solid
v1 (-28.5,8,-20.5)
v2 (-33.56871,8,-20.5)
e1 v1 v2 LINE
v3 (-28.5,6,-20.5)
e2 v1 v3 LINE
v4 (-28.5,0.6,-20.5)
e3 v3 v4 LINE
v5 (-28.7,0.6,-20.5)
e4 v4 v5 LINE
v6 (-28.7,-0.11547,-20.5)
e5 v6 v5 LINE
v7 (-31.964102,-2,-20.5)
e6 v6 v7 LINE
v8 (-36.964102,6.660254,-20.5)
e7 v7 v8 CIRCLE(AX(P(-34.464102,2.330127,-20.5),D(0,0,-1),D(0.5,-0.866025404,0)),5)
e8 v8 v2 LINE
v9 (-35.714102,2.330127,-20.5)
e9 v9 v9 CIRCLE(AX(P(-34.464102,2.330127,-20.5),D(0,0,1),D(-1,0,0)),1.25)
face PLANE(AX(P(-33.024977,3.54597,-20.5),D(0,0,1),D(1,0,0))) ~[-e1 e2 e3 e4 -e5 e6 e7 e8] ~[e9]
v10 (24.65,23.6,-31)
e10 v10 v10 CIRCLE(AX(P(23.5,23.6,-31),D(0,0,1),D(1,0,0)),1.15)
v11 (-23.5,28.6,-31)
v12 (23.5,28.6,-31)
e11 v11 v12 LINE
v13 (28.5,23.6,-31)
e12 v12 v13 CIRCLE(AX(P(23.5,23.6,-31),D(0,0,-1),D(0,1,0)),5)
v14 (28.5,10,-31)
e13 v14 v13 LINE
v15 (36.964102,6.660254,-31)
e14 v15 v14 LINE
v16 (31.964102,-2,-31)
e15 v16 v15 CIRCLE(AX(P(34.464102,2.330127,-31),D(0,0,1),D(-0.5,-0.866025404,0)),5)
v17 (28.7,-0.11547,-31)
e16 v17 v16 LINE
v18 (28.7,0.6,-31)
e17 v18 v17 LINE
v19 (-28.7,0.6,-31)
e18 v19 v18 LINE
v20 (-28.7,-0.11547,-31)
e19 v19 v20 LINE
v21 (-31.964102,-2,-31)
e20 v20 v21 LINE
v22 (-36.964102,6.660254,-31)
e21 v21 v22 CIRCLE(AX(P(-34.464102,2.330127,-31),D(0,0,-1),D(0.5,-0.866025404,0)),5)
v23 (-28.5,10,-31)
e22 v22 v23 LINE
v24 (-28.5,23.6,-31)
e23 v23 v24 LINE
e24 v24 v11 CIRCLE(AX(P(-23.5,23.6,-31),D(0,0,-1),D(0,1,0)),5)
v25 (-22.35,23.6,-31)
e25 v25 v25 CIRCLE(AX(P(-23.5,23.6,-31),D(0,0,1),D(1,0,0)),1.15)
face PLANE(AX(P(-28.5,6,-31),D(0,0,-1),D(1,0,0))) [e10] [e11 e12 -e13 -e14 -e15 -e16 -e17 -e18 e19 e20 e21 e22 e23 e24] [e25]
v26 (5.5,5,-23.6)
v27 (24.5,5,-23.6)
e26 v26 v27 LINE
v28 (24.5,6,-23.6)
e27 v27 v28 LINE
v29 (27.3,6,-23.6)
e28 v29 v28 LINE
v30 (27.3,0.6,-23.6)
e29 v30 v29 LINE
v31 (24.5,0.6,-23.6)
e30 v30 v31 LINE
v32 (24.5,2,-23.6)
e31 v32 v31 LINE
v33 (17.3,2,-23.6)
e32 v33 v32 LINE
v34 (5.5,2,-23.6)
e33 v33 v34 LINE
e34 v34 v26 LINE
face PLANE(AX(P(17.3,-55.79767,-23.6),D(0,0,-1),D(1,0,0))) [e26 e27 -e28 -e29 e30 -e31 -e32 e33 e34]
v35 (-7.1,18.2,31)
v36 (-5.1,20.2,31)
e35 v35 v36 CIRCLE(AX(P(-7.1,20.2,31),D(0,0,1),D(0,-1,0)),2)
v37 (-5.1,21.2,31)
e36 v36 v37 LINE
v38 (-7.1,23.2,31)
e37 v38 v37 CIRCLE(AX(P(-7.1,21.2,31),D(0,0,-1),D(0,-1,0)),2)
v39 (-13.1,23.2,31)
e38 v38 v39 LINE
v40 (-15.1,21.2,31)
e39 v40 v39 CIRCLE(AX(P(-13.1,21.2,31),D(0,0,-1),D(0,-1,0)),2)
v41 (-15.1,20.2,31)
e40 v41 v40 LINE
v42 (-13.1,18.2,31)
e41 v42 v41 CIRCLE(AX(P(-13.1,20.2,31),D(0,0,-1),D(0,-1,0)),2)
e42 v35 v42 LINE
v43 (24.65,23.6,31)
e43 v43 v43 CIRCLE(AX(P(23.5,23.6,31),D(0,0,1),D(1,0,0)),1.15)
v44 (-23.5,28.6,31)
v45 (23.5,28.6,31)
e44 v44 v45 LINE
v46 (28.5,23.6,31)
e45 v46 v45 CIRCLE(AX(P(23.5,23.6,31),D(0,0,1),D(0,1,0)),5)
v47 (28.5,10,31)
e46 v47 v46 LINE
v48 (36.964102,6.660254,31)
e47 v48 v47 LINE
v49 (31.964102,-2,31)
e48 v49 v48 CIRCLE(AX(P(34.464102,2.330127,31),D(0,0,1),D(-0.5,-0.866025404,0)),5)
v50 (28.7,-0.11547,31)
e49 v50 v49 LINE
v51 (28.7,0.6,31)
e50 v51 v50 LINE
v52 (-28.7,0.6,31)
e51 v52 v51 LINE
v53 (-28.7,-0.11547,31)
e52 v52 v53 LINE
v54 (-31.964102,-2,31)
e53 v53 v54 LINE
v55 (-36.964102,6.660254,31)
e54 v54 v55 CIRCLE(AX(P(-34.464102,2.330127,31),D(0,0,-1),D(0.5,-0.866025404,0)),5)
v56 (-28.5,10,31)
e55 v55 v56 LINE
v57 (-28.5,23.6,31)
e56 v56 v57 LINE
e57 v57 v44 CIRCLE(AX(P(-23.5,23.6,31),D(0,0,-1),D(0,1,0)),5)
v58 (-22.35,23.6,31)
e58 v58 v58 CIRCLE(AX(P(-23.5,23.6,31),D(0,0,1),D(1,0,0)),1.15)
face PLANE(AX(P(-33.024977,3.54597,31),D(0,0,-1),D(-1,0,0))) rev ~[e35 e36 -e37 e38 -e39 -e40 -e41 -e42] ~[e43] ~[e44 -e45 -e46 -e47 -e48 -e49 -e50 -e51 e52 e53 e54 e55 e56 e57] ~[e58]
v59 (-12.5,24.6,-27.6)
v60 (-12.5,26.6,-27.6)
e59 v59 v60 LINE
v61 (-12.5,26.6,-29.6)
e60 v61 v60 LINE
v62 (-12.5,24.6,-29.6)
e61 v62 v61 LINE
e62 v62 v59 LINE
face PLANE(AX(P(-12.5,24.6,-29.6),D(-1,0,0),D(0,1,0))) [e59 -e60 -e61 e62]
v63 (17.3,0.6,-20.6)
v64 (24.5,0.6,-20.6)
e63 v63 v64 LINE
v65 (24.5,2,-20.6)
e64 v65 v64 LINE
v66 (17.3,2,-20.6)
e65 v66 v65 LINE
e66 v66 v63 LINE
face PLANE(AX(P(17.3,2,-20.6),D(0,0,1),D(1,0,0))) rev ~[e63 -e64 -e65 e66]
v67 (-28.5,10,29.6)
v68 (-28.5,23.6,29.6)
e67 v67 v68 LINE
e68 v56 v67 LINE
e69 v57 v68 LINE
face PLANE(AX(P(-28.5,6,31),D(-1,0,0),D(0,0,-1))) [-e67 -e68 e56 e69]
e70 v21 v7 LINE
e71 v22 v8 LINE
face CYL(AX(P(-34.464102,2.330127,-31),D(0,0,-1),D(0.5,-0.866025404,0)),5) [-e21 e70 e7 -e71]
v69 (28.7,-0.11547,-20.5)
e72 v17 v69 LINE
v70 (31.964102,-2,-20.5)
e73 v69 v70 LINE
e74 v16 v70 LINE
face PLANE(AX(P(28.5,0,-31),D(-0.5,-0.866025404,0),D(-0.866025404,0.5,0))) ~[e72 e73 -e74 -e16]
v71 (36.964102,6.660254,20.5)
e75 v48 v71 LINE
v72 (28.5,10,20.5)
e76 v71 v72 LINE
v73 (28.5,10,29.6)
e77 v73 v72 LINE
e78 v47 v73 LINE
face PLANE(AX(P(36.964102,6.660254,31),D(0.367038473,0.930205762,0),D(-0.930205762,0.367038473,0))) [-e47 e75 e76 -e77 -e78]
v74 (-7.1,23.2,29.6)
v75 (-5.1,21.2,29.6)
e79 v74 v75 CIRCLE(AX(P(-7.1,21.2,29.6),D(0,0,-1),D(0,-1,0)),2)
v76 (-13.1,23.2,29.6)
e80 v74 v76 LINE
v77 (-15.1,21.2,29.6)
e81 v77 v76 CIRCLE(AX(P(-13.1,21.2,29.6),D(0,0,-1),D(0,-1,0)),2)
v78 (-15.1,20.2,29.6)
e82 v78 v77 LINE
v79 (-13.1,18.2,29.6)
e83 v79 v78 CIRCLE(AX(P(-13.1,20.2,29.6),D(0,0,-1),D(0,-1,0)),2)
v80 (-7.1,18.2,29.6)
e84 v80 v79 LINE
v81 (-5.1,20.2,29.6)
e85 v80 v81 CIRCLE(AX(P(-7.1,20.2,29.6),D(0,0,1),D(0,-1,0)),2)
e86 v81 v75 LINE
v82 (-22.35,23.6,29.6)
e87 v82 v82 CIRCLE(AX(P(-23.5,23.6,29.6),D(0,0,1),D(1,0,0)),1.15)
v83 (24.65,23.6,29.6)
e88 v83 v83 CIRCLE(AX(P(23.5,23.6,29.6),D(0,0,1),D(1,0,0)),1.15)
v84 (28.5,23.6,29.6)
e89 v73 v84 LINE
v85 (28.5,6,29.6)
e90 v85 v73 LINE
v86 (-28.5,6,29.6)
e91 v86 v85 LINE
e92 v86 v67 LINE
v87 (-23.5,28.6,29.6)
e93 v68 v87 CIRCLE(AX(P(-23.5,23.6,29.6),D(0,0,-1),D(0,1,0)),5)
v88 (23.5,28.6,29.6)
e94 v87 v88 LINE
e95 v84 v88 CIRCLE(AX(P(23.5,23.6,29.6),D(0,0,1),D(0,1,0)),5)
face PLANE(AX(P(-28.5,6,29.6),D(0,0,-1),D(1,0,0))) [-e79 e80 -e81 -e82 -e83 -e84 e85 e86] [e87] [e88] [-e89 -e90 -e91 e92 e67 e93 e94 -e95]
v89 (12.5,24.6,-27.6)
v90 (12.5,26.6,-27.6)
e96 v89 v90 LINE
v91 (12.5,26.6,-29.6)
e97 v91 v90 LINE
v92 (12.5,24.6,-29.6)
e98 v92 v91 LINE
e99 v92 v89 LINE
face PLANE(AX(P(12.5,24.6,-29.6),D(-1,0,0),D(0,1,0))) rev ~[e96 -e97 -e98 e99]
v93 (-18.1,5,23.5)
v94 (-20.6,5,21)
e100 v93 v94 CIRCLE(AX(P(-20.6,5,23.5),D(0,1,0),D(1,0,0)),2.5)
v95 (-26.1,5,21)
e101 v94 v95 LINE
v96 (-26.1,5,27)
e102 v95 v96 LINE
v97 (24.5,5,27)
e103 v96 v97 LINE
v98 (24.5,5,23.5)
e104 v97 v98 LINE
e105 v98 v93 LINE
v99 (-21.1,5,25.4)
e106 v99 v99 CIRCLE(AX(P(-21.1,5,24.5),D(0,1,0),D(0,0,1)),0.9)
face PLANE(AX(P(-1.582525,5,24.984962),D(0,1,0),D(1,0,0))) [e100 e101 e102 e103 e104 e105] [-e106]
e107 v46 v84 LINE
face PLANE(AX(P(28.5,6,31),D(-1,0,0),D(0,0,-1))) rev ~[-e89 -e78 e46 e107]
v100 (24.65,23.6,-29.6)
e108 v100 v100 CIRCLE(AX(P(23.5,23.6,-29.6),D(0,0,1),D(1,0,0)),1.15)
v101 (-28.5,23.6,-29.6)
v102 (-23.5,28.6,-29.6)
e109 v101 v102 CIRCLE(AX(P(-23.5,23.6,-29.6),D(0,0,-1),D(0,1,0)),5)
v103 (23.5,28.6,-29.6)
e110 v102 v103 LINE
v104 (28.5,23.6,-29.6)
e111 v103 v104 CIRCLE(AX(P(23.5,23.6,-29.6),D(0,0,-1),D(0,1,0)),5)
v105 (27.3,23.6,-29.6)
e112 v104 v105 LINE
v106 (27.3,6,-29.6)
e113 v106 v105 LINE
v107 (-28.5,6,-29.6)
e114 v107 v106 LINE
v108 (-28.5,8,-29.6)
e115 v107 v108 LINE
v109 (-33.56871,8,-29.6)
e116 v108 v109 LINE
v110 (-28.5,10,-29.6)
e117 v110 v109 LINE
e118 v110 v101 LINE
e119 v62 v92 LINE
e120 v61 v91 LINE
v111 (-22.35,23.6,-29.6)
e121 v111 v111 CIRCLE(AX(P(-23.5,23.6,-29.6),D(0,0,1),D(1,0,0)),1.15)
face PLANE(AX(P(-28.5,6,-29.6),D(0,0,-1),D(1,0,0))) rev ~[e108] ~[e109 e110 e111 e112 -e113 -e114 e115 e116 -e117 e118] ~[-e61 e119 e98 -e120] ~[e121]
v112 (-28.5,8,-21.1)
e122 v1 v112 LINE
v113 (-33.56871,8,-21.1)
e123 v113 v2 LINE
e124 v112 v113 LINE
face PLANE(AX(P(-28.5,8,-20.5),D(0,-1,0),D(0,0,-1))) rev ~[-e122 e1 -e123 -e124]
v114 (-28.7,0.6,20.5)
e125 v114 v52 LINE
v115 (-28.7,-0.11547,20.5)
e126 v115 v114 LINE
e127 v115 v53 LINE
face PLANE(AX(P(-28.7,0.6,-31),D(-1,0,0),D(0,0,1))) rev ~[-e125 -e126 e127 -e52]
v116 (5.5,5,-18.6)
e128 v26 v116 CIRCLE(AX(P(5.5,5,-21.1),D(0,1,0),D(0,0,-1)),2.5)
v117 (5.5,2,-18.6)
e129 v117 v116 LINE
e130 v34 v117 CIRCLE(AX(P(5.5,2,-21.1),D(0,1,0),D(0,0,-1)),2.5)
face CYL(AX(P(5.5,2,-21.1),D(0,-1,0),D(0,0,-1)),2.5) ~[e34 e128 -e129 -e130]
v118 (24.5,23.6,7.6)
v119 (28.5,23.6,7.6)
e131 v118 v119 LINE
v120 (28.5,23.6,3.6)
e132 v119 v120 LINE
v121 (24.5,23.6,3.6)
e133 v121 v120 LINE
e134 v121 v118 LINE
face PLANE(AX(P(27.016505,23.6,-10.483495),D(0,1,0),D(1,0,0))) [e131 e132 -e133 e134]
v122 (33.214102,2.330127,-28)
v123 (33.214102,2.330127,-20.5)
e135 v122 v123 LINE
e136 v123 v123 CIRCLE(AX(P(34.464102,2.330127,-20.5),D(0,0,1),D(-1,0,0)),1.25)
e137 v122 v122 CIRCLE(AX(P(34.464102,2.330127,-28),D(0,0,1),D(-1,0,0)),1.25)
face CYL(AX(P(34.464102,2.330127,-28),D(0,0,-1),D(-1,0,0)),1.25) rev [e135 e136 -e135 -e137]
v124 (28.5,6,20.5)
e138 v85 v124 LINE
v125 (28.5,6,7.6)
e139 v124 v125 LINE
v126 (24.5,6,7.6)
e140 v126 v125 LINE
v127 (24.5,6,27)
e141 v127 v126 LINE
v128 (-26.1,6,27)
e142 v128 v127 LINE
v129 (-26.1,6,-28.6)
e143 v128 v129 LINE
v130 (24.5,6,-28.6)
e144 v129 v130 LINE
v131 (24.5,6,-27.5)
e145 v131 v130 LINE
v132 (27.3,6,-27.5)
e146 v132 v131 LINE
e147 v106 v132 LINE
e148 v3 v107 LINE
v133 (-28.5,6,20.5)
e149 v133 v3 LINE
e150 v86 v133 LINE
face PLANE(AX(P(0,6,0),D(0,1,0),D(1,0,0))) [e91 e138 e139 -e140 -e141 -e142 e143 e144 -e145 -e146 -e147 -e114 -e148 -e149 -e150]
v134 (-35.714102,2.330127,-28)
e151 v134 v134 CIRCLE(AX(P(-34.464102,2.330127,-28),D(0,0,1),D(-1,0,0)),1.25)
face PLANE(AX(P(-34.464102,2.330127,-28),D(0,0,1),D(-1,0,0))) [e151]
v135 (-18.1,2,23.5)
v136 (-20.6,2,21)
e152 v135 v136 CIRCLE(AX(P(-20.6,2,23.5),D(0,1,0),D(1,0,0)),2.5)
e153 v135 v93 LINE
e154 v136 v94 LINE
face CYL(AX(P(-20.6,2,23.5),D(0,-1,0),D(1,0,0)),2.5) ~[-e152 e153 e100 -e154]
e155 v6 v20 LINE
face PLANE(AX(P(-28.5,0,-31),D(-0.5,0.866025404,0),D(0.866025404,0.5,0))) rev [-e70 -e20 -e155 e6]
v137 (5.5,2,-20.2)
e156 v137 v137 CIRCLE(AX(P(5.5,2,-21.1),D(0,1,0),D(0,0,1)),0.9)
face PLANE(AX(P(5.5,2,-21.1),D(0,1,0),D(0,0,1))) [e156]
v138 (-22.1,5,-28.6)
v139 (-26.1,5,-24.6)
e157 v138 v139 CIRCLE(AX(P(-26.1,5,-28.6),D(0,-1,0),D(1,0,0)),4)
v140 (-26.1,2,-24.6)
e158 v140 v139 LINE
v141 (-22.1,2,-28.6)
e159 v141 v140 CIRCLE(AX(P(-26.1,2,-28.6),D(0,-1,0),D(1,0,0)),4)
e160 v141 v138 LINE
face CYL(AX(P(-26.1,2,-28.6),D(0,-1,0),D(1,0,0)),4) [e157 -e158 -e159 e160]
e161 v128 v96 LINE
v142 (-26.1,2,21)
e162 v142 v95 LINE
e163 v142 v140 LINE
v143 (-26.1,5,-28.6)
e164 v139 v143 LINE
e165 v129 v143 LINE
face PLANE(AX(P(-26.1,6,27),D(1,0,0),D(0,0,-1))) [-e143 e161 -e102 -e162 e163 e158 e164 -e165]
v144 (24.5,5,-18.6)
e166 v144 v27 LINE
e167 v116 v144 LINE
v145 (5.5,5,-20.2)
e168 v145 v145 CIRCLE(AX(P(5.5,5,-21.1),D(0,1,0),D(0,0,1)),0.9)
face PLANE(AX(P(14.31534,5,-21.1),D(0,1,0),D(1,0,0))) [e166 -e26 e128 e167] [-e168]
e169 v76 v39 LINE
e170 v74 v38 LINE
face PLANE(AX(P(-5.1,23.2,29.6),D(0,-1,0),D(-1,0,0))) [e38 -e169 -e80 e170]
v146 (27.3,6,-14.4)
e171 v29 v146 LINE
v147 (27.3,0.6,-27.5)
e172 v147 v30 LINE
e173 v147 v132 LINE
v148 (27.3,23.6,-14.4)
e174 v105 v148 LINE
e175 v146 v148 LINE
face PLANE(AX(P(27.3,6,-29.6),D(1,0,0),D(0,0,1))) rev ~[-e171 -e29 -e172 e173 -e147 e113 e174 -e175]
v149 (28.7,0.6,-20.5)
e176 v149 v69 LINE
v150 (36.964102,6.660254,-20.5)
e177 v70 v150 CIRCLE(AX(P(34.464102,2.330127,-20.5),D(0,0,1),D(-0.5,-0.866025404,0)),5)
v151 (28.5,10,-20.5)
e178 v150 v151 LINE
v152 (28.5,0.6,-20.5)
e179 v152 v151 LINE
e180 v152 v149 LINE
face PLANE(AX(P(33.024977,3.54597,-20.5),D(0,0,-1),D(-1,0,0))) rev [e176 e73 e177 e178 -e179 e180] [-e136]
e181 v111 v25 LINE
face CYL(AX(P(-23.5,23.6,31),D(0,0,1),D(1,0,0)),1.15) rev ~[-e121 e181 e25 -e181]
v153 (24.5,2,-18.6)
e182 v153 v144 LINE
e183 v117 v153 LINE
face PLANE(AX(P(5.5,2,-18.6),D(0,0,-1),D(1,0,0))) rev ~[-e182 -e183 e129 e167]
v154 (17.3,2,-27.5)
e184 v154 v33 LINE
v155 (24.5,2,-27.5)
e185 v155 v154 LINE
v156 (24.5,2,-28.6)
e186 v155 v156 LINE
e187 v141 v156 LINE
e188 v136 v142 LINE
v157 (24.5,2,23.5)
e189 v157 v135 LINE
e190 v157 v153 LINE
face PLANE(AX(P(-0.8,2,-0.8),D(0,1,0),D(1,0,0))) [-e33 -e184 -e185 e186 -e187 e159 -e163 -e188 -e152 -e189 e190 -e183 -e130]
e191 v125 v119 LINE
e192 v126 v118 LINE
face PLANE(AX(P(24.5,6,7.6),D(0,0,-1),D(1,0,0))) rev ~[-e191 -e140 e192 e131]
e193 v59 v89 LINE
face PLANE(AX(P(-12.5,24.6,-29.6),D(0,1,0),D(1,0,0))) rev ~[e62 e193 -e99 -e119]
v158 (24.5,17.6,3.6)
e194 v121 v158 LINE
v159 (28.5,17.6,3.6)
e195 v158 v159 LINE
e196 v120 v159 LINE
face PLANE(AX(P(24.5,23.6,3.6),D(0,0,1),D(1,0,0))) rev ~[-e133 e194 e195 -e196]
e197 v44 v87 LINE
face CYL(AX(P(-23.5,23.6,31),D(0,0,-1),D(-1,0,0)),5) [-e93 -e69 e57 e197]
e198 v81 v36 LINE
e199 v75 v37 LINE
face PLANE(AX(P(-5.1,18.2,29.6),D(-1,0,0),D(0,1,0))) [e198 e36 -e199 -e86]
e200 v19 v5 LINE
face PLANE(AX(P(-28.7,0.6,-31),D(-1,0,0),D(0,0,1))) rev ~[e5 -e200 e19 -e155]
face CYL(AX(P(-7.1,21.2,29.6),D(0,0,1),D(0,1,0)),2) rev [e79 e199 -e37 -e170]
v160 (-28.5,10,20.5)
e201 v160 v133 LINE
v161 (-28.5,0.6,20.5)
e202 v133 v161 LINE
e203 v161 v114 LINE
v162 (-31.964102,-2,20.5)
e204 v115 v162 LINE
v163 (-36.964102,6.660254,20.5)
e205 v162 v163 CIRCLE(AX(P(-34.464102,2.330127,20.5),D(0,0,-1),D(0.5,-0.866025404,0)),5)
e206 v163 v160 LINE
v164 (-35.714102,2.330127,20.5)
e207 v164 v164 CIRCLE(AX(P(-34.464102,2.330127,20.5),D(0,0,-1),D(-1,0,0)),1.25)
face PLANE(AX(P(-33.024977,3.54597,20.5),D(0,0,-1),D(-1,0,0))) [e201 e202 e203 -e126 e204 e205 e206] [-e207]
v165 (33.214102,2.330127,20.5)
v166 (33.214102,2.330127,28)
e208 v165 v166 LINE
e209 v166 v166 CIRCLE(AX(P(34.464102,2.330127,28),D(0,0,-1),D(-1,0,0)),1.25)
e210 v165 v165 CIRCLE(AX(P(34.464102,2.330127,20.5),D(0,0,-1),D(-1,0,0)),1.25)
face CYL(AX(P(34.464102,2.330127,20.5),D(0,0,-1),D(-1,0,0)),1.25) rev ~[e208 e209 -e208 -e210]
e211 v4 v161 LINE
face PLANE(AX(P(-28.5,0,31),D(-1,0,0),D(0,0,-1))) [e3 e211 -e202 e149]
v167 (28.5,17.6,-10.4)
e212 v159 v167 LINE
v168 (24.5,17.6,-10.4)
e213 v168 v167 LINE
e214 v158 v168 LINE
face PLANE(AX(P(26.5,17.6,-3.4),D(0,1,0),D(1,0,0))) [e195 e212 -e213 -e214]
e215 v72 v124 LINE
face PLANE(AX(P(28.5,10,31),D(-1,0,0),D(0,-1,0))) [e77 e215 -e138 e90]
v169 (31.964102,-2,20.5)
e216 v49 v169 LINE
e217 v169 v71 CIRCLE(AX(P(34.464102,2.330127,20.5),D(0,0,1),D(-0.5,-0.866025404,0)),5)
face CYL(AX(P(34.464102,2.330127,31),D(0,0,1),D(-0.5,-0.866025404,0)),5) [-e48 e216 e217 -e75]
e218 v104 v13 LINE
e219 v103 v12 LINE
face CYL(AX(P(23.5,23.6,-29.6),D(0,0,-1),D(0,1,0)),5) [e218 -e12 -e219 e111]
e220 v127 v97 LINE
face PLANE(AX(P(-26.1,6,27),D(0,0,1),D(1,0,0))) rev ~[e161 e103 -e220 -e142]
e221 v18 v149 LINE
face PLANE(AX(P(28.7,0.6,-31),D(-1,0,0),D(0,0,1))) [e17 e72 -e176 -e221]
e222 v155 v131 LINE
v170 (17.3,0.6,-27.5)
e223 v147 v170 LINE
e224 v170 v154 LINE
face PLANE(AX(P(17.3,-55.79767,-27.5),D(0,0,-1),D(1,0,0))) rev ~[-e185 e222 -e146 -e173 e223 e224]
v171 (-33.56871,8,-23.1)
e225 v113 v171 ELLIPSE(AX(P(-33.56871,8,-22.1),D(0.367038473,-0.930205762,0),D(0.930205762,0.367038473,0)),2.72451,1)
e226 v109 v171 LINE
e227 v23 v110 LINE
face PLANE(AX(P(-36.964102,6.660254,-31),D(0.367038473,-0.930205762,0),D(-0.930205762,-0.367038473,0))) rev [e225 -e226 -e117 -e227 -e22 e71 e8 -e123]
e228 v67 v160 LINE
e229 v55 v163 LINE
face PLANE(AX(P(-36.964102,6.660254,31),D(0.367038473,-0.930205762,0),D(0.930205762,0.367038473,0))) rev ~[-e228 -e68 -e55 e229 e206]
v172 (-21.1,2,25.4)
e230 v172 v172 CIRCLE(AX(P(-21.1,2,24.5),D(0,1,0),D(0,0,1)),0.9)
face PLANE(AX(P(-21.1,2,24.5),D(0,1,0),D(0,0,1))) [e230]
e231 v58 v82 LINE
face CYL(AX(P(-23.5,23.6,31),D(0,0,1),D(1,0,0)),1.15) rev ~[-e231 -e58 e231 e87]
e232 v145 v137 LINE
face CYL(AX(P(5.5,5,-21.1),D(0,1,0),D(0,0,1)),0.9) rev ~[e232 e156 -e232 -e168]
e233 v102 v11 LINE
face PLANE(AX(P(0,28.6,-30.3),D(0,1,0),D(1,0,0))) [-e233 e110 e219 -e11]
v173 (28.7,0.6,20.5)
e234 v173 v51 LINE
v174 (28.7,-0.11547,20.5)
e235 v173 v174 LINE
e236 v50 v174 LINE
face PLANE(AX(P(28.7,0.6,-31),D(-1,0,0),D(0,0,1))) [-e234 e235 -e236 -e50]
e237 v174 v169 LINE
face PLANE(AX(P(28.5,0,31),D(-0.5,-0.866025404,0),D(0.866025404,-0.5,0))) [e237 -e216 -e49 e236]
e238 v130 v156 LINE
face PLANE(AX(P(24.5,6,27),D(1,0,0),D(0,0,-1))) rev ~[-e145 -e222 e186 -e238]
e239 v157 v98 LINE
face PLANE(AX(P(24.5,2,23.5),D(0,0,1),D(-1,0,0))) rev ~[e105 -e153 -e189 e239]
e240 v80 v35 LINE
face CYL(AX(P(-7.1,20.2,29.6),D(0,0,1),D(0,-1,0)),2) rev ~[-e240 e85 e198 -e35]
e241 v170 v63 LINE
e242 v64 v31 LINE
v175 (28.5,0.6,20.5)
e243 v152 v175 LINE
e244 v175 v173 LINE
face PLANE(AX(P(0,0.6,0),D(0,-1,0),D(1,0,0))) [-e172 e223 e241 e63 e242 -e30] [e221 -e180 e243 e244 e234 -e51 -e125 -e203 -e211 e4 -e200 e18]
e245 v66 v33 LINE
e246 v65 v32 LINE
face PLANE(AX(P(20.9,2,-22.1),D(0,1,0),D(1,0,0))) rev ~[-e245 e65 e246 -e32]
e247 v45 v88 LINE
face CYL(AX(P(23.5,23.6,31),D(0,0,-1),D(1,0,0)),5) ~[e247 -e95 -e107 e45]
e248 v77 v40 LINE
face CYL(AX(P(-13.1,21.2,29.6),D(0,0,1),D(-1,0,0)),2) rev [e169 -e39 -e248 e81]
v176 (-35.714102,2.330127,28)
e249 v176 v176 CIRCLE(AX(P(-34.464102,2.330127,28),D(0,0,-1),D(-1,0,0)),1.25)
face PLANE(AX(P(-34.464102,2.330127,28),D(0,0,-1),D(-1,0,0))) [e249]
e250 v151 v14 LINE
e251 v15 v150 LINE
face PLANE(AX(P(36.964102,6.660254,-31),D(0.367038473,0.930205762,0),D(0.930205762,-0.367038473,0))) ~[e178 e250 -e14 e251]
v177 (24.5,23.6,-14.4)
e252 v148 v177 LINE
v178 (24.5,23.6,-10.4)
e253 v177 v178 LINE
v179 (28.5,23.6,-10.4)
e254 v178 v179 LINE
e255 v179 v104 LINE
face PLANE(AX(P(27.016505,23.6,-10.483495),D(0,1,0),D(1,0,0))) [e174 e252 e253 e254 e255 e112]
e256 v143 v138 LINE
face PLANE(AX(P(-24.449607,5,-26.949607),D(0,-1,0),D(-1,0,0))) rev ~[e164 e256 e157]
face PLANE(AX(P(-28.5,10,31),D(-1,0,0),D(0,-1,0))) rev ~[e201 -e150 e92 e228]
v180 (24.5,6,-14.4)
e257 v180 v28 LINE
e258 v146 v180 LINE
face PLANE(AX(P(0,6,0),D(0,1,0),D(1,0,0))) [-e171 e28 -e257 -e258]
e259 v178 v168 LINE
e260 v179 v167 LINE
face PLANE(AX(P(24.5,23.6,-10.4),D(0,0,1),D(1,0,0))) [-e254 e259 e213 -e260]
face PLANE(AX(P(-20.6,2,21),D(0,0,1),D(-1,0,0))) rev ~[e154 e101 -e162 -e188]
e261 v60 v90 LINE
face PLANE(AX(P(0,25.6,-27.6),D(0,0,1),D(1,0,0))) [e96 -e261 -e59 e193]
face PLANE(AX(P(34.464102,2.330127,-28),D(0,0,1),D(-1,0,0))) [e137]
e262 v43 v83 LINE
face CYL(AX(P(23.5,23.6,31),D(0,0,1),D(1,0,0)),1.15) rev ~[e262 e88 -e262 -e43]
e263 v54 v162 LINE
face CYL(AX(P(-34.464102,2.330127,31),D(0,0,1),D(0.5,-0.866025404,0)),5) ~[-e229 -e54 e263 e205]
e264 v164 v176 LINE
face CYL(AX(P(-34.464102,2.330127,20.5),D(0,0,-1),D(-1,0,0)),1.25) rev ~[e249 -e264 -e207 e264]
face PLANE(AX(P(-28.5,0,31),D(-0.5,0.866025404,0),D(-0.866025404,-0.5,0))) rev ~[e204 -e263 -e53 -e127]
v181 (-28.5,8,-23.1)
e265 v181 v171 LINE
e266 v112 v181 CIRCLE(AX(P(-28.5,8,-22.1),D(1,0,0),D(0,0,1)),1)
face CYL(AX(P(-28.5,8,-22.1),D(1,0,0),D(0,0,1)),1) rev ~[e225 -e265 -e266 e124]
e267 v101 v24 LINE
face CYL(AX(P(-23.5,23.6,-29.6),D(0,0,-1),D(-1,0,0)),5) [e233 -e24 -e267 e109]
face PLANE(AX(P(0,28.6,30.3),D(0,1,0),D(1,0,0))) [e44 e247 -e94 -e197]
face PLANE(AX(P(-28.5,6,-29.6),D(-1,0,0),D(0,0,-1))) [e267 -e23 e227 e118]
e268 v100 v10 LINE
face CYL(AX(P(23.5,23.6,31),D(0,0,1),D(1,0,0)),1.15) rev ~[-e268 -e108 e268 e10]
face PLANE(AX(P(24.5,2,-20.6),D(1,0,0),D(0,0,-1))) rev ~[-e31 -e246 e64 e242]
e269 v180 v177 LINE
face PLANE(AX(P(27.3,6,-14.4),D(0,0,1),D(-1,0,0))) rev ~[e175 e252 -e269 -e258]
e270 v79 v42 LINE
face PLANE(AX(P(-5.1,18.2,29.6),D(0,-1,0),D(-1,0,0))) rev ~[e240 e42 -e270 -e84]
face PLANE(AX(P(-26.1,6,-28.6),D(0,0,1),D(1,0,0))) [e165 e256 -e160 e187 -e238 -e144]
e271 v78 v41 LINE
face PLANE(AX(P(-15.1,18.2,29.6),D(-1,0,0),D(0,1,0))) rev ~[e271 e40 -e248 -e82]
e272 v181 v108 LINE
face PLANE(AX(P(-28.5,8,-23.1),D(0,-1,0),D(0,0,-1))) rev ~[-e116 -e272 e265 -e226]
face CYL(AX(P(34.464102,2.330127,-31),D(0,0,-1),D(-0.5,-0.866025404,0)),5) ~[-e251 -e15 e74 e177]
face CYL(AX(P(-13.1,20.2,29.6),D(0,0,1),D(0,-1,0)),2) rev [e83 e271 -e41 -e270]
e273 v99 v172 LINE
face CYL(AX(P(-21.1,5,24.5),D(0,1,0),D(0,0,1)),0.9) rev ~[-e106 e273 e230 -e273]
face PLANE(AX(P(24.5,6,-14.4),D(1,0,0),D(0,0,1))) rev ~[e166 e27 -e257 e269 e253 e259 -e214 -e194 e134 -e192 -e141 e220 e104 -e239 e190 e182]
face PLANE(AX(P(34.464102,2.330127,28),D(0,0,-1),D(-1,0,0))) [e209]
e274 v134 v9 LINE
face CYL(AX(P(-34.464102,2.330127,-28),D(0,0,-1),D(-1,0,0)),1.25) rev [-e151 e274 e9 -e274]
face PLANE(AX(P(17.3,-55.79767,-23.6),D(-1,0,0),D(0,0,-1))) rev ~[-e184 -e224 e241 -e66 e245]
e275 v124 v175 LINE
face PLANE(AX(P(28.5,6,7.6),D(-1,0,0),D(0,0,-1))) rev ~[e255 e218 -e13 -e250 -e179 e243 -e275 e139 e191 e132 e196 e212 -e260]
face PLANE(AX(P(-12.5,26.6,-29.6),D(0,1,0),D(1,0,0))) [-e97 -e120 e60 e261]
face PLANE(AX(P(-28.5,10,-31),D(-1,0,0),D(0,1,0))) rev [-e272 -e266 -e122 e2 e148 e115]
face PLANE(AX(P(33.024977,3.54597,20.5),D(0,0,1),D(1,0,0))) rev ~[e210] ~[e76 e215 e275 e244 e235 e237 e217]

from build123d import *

# Parameters (mm, degrees)
SKETCH1_W                = 57
SKETCH1_H                = 62
BOSS_EXTRUDE1_DEPTH      = 6
SKETCH4_W                = 50.6
SKETCH4_H                = 55.6
CUT_EXTRUDE1_DEPTH       = 4
BOSS_EXTRUDE2_DEPTH      = 3
SKETCH6_R                = 0.9
CUT_EXTRUDE2_DEPTH       = 3
BOSS_EXTRUDE3_DEPTH      = 10.5
SKETCH8_R                = 1.25
CUT_EXTRUDE3_DEPTH       = 7.5
CUT_EXTRUDE4_START       = -7.5
SKETCH9_R                = 1.25
CUT_EXTRUDE4_DEPTH       = 7.5
SKETCH10_W               = 57
SKETCH10_H               = 1.4
BOSS_EXTRUDE4_DEPTH      = 22.6
FILLET2_R                = 5
CUT_EXTRUDE8_DEPTH       = 57.79766999
CUT_EXTRUDE8_DEPTH_BACK  = 57.79766999
SKETCH15_W               = 10
SKETCH15_H               = 3.9
SKETCH18_W               = 10
SKETCH18_H               = 5
CUT_EXTRUDE10_DEPTH      = 78.76718663
FILLET3_R                = 2
CUT_EXTRUDE12_DEPTH      = 80.987993526
SKETCH19_R               = 1.15
CUT_EXTRUDE11_DEPTH      = 79.86301615
SKETCH21_W               = 7.2
SKETCH21_H               = 3
CUT_EXTRUDE13_DEPTH      = 57.79766999
CUT_EXTRUDE14_DEPTH      = 58.761365256
CUT_EXTRUDE14_DEPTH_BACK = 0.6
SKETCH22_W               = 57.4
SKETCH22_H               = 62
BOSS_EXTRUDE6_DEPTH      = 17.6
SKETCH24_W               = 4
SKETCH24_H               = 14
CUT_EXTRUDE15_DEPTH      = 6
SKETCH25_W               = 25
SKETCH25_H               = 2
BOSS_EXTRUDE7_DEPTH      = 2


with BuildPart() as part:
    # Sketch1 → Boss-Extrude1 (new body)
    with BuildSketch(Plane(origin=(0, 0, 0), x_dir=(1, 0, 0), z_dir=(0, 1, 0))):
        Rectangle(SKETCH1_W, SKETCH1_H)
    extrude(amount=BOSS_EXTRUDE1_DEPTH)

    # Sketch4 → Cut-Extrude1 (cut)
    with BuildSketch(Plane(origin=(0, 6, 0), x_dir=(1, 0, 0), z_dir=(0, 1, 0))):
        with Locations((-0.8, 0.8)):
            Rectangle(SKETCH4_W, SKETCH4_H)
    extrude(amount=-CUT_EXTRUDE1_DEPTH, mode=Mode.SUBTRACT)

    # Sketch5 → Boss-Extrude2 (add)
    with BuildSketch(Plane(origin=(0, 2, 0), x_dir=(1, 0, 0), z_dir=(0, 1, 0))):
        with BuildLine():
            Line((-26.1, -27), (-18.1, -27))
            Line((-18.1, -27), (24.5, -27))
            Line((24.5, -27), (24.5, -23.5))
            Line((24.5, -23.5), (-18.1, -23.5))
            ThreePointArc((-18.1, -23.5), (-18.832233047, -21.732233047), (-20.6, -21))
            Line((-20.6, -21), (-26.1, -21))
            Line((-26.1, -21), (-26.1, -27))
        make_face()
        with BuildLine():
            Line((24.5, 23.6), (5.5, 23.6))
            ThreePointArc((5.5, 23.6), (3, 21.1), (5.5, 18.6))
            Line((5.5, 18.6), (24.5, 18.6))
            Line((24.5, 18.6), (24.5, 23.6))
        make_face()
        with BuildLine():
            Line((-26.1, 24.6), (-26.1, 28.6))
            Line((-26.1, 28.6), (-22.1, 28.6))
            ThreePointArc((-22.1, 28.6), (-23.271572875, 25.771572875), (-26.1, 24.6))
        make_face()
    extrude(amount=BOSS_EXTRUDE2_DEPTH)

    # Sketch6 → Cut-Extrude2 (cut)
    with BuildSketch(Plane(origin=(0, 5, 0), x_dir=(1, 0, 0), z_dir=(0, 1, 0))):
        with Locations(Location((5.5, 21.1, 0), (0, 0, 270))):
            Circle(SKETCH6_R)
        with Locations(Location((-21.1, -24.5, 0), (0, 0, 270))):
            Circle(SKETCH6_R)
    extrude(amount=-CUT_EXTRUDE2_DEPTH, mode=Mode.SUBTRACT)

    # Sketch7 → Boss-Extrude3 (add)
    with BuildSketch(Plane.XY.offset(31)):
        with BuildLine():
            Line((-28.5, 0), (-31.964101615, -2))
            ThreePointArc((-31.964101615, -2), (-38.794228634, -0.169872981), (-36.964101615, 6.660254038))
            Line((-36.964101615, 6.660254038), (-28.5, 10))
            Line((-28.5, 10), (-28.5, 0))
        make_face()
        with BuildLine():
            Line((36.964101615, 6.660254038), (28.5, 10))
            Line((28.5, 10), (28.5, 0))
            Line((28.5, 0), (31.964101615, -2))
            ThreePointArc((31.964101615, -2), (38.794228634, -0.169872981), (36.964101615, 6.660254038))
        make_face()
    boss_extrude3 = extrude(amount=-BOSS_EXTRUDE3_DEPTH)

    # Mirror4: Boss-Extrude3 across plane
    add(boss_extrude3.mirror(Plane.XY))

    # Sketch8 → Cut-Extrude3 (cut)
    with BuildSketch(Plane(origin=(0, 0, 20.5), x_dir=(-1, 0, 0), z_dir=(0, 0, -1))):
        with Locations((34.464101615, 2.330127019)):
            Circle(SKETCH8_R)
        with Locations((-34.464101615, 2.330127019)):
            Circle(SKETCH8_R)
    extrude(amount=-CUT_EXTRUDE3_DEPTH, mode=Mode.SUBTRACT)

    # Sketch9 → Cut-Extrude4 (cut)
    with BuildSketch(Plane.XY.offset(-20.5).offset(CUT_EXTRUDE4_START)):
        with Locations(Location((-34.464101615, 2.330127019, 0), (0, 0, 180))):
            Circle(SKETCH9_R)
        with Locations(Location((34.464101615, 2.330127019, 0), (0, 0, 180))):
            Circle(SKETCH9_R)
    extrude(amount=CUT_EXTRUDE4_DEPTH, mode=Mode.SUBTRACT)

    # Sketch10 → Boss-Extrude4 (add)
    with BuildSketch(Plane(origin=(0, 6, 0), x_dir=(1, 0, 0), z_dir=(0, 1, 0))):
        with Locations((0, 30.3)):
            Rectangle(SKETCH10_W, SKETCH10_H)
        with Locations((0, -30.3)):
            Rectangle(SKETCH10_W, SKETCH10_H)
    extrude(amount=BOSS_EXTRUDE4_DEPTH)

    # Fillet2
    fillet2_edges = [part.edges().sort_by_distance(p)[0] for p in [
        (-28.5, 28.6, -30.3),
        (28.5, 28.6, -30.3),
        (-28.5, 28.6, 30.3),
        (28.5, 28.6, 30.3),
    ]]
    fillet(fillet2_edges, radius=FILLET2_R)

    # Sketch15 → Cut-Extrude8 (cut, two sides: drawn at the far end of the back side and taken through both)
    with BuildSketch(Plane(origin=(0, 2, 0), x_dir=(1, 0, 0), z_dir=(0, 1, 0)).offset(-CUT_EXTRUDE8_DEPTH_BACK)):
        with Locations((22.3, 25.55)):
            Rectangle(SKETCH15_W, SKETCH15_H)
    extrude(amount=CUT_EXTRUDE8_DEPTH + CUT_EXTRUDE8_DEPTH_BACK, mode=Mode.SUBTRACT)

    # Sketch18 → Cut-Extrude10 (cut, through all)
    with BuildSketch(Plane(origin=(0, 0, 29.6), x_dir=(-1, 0, 0), z_dir=(0, 0, -1))):
        with Locations((10.1, 20.7)):
            Rectangle(SKETCH18_W, SKETCH18_H)
    extrude(amount=-CUT_EXTRUDE10_DEPTH, mode=Mode.SUBTRACT)

    # Fillet3
    fillet3_edges = [part.edges().sort_by_distance(p)[0] for p in [
        (-5.1, 18.2, 30.3),
        (-5.1, 23.2, 30.3),
        (-15.1, 23.2, 30.3),
        (-15.1, 18.2, 30.3),
    ]]
    fillet(fillet3_edges, radius=FILLET3_R)

    # Sketch20 → Cut-Extrude12 (cut, through all)
    with BuildSketch(Plane(origin=(-28.5, 0, 0), x_dir=(0, 0, -1), z_dir=(1, 0, 0))):
        with BuildLine():
            Line((29.6, 8), (29.6, 10))
            Line((29.6, 10), (20.5, 10))
            Line((20.5, 10), (20.5, 8))
            Line((20.5, 8), (21.1, 8))
            ThreePointArc((21.1, 8), (22.1, 7), (23.1, 8))
            Line((23.1, 8), (29.6, 8))
        make_face()
    extrude(amount=-CUT_EXTRUDE12_DEPTH, mode=Mode.SUBTRACT)

    # Sketch19 → Cut-Extrude11 (cut, through all)
    with BuildSketch(Plane.XY.offset(31)):
        with Locations((-23.5, 23.6)):
            Circle(SKETCH19_R)
        with Locations((23.5, 23.6)):
            Circle(SKETCH19_R)
    extrude(amount=-CUT_EXTRUDE11_DEPTH, mode=Mode.SUBTRACT)

    # Sketch21 → Cut-Extrude13 (cut, through all)
    with BuildSketch(Plane(origin=(0, 2, 0), x_dir=(1, 0, 0), z_dir=(0, 1, 0))):
        with Locations((20.9, 22.1)):
            Rectangle(SKETCH21_W, SKETCH21_H)
    extrude(amount=-CUT_EXTRUDE13_DEPTH, mode=Mode.SUBTRACT)

    # Sketch22 → Cut-Extrude14 (cut, two sides: drawn at the far end of the back side and taken through both)
    with BuildSketch(Plane.XZ.offset(-CUT_EXTRUDE14_DEPTH_BACK)):
        Rectangle(SKETCH22_W, SKETCH22_H)
    extrude(amount=CUT_EXTRUDE14_DEPTH + CUT_EXTRUDE14_DEPTH_BACK, mode=Mode.SUBTRACT)

    # Sketch23 → Boss-Extrude6 (add)
    with BuildSketch(Plane(origin=(0, 6, 0), x_dir=(1, 0, 0), z_dir=(0, 1, 0))):
        Polygon((24.5, -7.6), (28.5, -7.6), (28.5, 29.6), (27.3, 29.6), (27.3, 14.4), (24.5, 14.4), align=None)
    extrude(amount=BOSS_EXTRUDE6_DEPTH)

    # Sketch24 → Cut-Extrude15 (cut)
    with BuildSketch(Plane(origin=(0, 23.6, 0), x_dir=(1, 0, 0), z_dir=(0, 1, 0))):
        with Locations((26.5, 3.4)):
            Rectangle(SKETCH24_W, SKETCH24_H)
    extrude(amount=-CUT_EXTRUDE15_DEPTH, mode=Mode.SUBTRACT)

    # Sketch25 → Boss-Extrude7 (add)
    with BuildSketch(Plane.XY.offset(-29.6)):
        with Locations((0, 25.6)):
            Rectangle(SKETCH25_W, SKETCH25_H)
    extrude(amount=BOSS_EXTRUDE7_DEPTH)


solid = part.part
